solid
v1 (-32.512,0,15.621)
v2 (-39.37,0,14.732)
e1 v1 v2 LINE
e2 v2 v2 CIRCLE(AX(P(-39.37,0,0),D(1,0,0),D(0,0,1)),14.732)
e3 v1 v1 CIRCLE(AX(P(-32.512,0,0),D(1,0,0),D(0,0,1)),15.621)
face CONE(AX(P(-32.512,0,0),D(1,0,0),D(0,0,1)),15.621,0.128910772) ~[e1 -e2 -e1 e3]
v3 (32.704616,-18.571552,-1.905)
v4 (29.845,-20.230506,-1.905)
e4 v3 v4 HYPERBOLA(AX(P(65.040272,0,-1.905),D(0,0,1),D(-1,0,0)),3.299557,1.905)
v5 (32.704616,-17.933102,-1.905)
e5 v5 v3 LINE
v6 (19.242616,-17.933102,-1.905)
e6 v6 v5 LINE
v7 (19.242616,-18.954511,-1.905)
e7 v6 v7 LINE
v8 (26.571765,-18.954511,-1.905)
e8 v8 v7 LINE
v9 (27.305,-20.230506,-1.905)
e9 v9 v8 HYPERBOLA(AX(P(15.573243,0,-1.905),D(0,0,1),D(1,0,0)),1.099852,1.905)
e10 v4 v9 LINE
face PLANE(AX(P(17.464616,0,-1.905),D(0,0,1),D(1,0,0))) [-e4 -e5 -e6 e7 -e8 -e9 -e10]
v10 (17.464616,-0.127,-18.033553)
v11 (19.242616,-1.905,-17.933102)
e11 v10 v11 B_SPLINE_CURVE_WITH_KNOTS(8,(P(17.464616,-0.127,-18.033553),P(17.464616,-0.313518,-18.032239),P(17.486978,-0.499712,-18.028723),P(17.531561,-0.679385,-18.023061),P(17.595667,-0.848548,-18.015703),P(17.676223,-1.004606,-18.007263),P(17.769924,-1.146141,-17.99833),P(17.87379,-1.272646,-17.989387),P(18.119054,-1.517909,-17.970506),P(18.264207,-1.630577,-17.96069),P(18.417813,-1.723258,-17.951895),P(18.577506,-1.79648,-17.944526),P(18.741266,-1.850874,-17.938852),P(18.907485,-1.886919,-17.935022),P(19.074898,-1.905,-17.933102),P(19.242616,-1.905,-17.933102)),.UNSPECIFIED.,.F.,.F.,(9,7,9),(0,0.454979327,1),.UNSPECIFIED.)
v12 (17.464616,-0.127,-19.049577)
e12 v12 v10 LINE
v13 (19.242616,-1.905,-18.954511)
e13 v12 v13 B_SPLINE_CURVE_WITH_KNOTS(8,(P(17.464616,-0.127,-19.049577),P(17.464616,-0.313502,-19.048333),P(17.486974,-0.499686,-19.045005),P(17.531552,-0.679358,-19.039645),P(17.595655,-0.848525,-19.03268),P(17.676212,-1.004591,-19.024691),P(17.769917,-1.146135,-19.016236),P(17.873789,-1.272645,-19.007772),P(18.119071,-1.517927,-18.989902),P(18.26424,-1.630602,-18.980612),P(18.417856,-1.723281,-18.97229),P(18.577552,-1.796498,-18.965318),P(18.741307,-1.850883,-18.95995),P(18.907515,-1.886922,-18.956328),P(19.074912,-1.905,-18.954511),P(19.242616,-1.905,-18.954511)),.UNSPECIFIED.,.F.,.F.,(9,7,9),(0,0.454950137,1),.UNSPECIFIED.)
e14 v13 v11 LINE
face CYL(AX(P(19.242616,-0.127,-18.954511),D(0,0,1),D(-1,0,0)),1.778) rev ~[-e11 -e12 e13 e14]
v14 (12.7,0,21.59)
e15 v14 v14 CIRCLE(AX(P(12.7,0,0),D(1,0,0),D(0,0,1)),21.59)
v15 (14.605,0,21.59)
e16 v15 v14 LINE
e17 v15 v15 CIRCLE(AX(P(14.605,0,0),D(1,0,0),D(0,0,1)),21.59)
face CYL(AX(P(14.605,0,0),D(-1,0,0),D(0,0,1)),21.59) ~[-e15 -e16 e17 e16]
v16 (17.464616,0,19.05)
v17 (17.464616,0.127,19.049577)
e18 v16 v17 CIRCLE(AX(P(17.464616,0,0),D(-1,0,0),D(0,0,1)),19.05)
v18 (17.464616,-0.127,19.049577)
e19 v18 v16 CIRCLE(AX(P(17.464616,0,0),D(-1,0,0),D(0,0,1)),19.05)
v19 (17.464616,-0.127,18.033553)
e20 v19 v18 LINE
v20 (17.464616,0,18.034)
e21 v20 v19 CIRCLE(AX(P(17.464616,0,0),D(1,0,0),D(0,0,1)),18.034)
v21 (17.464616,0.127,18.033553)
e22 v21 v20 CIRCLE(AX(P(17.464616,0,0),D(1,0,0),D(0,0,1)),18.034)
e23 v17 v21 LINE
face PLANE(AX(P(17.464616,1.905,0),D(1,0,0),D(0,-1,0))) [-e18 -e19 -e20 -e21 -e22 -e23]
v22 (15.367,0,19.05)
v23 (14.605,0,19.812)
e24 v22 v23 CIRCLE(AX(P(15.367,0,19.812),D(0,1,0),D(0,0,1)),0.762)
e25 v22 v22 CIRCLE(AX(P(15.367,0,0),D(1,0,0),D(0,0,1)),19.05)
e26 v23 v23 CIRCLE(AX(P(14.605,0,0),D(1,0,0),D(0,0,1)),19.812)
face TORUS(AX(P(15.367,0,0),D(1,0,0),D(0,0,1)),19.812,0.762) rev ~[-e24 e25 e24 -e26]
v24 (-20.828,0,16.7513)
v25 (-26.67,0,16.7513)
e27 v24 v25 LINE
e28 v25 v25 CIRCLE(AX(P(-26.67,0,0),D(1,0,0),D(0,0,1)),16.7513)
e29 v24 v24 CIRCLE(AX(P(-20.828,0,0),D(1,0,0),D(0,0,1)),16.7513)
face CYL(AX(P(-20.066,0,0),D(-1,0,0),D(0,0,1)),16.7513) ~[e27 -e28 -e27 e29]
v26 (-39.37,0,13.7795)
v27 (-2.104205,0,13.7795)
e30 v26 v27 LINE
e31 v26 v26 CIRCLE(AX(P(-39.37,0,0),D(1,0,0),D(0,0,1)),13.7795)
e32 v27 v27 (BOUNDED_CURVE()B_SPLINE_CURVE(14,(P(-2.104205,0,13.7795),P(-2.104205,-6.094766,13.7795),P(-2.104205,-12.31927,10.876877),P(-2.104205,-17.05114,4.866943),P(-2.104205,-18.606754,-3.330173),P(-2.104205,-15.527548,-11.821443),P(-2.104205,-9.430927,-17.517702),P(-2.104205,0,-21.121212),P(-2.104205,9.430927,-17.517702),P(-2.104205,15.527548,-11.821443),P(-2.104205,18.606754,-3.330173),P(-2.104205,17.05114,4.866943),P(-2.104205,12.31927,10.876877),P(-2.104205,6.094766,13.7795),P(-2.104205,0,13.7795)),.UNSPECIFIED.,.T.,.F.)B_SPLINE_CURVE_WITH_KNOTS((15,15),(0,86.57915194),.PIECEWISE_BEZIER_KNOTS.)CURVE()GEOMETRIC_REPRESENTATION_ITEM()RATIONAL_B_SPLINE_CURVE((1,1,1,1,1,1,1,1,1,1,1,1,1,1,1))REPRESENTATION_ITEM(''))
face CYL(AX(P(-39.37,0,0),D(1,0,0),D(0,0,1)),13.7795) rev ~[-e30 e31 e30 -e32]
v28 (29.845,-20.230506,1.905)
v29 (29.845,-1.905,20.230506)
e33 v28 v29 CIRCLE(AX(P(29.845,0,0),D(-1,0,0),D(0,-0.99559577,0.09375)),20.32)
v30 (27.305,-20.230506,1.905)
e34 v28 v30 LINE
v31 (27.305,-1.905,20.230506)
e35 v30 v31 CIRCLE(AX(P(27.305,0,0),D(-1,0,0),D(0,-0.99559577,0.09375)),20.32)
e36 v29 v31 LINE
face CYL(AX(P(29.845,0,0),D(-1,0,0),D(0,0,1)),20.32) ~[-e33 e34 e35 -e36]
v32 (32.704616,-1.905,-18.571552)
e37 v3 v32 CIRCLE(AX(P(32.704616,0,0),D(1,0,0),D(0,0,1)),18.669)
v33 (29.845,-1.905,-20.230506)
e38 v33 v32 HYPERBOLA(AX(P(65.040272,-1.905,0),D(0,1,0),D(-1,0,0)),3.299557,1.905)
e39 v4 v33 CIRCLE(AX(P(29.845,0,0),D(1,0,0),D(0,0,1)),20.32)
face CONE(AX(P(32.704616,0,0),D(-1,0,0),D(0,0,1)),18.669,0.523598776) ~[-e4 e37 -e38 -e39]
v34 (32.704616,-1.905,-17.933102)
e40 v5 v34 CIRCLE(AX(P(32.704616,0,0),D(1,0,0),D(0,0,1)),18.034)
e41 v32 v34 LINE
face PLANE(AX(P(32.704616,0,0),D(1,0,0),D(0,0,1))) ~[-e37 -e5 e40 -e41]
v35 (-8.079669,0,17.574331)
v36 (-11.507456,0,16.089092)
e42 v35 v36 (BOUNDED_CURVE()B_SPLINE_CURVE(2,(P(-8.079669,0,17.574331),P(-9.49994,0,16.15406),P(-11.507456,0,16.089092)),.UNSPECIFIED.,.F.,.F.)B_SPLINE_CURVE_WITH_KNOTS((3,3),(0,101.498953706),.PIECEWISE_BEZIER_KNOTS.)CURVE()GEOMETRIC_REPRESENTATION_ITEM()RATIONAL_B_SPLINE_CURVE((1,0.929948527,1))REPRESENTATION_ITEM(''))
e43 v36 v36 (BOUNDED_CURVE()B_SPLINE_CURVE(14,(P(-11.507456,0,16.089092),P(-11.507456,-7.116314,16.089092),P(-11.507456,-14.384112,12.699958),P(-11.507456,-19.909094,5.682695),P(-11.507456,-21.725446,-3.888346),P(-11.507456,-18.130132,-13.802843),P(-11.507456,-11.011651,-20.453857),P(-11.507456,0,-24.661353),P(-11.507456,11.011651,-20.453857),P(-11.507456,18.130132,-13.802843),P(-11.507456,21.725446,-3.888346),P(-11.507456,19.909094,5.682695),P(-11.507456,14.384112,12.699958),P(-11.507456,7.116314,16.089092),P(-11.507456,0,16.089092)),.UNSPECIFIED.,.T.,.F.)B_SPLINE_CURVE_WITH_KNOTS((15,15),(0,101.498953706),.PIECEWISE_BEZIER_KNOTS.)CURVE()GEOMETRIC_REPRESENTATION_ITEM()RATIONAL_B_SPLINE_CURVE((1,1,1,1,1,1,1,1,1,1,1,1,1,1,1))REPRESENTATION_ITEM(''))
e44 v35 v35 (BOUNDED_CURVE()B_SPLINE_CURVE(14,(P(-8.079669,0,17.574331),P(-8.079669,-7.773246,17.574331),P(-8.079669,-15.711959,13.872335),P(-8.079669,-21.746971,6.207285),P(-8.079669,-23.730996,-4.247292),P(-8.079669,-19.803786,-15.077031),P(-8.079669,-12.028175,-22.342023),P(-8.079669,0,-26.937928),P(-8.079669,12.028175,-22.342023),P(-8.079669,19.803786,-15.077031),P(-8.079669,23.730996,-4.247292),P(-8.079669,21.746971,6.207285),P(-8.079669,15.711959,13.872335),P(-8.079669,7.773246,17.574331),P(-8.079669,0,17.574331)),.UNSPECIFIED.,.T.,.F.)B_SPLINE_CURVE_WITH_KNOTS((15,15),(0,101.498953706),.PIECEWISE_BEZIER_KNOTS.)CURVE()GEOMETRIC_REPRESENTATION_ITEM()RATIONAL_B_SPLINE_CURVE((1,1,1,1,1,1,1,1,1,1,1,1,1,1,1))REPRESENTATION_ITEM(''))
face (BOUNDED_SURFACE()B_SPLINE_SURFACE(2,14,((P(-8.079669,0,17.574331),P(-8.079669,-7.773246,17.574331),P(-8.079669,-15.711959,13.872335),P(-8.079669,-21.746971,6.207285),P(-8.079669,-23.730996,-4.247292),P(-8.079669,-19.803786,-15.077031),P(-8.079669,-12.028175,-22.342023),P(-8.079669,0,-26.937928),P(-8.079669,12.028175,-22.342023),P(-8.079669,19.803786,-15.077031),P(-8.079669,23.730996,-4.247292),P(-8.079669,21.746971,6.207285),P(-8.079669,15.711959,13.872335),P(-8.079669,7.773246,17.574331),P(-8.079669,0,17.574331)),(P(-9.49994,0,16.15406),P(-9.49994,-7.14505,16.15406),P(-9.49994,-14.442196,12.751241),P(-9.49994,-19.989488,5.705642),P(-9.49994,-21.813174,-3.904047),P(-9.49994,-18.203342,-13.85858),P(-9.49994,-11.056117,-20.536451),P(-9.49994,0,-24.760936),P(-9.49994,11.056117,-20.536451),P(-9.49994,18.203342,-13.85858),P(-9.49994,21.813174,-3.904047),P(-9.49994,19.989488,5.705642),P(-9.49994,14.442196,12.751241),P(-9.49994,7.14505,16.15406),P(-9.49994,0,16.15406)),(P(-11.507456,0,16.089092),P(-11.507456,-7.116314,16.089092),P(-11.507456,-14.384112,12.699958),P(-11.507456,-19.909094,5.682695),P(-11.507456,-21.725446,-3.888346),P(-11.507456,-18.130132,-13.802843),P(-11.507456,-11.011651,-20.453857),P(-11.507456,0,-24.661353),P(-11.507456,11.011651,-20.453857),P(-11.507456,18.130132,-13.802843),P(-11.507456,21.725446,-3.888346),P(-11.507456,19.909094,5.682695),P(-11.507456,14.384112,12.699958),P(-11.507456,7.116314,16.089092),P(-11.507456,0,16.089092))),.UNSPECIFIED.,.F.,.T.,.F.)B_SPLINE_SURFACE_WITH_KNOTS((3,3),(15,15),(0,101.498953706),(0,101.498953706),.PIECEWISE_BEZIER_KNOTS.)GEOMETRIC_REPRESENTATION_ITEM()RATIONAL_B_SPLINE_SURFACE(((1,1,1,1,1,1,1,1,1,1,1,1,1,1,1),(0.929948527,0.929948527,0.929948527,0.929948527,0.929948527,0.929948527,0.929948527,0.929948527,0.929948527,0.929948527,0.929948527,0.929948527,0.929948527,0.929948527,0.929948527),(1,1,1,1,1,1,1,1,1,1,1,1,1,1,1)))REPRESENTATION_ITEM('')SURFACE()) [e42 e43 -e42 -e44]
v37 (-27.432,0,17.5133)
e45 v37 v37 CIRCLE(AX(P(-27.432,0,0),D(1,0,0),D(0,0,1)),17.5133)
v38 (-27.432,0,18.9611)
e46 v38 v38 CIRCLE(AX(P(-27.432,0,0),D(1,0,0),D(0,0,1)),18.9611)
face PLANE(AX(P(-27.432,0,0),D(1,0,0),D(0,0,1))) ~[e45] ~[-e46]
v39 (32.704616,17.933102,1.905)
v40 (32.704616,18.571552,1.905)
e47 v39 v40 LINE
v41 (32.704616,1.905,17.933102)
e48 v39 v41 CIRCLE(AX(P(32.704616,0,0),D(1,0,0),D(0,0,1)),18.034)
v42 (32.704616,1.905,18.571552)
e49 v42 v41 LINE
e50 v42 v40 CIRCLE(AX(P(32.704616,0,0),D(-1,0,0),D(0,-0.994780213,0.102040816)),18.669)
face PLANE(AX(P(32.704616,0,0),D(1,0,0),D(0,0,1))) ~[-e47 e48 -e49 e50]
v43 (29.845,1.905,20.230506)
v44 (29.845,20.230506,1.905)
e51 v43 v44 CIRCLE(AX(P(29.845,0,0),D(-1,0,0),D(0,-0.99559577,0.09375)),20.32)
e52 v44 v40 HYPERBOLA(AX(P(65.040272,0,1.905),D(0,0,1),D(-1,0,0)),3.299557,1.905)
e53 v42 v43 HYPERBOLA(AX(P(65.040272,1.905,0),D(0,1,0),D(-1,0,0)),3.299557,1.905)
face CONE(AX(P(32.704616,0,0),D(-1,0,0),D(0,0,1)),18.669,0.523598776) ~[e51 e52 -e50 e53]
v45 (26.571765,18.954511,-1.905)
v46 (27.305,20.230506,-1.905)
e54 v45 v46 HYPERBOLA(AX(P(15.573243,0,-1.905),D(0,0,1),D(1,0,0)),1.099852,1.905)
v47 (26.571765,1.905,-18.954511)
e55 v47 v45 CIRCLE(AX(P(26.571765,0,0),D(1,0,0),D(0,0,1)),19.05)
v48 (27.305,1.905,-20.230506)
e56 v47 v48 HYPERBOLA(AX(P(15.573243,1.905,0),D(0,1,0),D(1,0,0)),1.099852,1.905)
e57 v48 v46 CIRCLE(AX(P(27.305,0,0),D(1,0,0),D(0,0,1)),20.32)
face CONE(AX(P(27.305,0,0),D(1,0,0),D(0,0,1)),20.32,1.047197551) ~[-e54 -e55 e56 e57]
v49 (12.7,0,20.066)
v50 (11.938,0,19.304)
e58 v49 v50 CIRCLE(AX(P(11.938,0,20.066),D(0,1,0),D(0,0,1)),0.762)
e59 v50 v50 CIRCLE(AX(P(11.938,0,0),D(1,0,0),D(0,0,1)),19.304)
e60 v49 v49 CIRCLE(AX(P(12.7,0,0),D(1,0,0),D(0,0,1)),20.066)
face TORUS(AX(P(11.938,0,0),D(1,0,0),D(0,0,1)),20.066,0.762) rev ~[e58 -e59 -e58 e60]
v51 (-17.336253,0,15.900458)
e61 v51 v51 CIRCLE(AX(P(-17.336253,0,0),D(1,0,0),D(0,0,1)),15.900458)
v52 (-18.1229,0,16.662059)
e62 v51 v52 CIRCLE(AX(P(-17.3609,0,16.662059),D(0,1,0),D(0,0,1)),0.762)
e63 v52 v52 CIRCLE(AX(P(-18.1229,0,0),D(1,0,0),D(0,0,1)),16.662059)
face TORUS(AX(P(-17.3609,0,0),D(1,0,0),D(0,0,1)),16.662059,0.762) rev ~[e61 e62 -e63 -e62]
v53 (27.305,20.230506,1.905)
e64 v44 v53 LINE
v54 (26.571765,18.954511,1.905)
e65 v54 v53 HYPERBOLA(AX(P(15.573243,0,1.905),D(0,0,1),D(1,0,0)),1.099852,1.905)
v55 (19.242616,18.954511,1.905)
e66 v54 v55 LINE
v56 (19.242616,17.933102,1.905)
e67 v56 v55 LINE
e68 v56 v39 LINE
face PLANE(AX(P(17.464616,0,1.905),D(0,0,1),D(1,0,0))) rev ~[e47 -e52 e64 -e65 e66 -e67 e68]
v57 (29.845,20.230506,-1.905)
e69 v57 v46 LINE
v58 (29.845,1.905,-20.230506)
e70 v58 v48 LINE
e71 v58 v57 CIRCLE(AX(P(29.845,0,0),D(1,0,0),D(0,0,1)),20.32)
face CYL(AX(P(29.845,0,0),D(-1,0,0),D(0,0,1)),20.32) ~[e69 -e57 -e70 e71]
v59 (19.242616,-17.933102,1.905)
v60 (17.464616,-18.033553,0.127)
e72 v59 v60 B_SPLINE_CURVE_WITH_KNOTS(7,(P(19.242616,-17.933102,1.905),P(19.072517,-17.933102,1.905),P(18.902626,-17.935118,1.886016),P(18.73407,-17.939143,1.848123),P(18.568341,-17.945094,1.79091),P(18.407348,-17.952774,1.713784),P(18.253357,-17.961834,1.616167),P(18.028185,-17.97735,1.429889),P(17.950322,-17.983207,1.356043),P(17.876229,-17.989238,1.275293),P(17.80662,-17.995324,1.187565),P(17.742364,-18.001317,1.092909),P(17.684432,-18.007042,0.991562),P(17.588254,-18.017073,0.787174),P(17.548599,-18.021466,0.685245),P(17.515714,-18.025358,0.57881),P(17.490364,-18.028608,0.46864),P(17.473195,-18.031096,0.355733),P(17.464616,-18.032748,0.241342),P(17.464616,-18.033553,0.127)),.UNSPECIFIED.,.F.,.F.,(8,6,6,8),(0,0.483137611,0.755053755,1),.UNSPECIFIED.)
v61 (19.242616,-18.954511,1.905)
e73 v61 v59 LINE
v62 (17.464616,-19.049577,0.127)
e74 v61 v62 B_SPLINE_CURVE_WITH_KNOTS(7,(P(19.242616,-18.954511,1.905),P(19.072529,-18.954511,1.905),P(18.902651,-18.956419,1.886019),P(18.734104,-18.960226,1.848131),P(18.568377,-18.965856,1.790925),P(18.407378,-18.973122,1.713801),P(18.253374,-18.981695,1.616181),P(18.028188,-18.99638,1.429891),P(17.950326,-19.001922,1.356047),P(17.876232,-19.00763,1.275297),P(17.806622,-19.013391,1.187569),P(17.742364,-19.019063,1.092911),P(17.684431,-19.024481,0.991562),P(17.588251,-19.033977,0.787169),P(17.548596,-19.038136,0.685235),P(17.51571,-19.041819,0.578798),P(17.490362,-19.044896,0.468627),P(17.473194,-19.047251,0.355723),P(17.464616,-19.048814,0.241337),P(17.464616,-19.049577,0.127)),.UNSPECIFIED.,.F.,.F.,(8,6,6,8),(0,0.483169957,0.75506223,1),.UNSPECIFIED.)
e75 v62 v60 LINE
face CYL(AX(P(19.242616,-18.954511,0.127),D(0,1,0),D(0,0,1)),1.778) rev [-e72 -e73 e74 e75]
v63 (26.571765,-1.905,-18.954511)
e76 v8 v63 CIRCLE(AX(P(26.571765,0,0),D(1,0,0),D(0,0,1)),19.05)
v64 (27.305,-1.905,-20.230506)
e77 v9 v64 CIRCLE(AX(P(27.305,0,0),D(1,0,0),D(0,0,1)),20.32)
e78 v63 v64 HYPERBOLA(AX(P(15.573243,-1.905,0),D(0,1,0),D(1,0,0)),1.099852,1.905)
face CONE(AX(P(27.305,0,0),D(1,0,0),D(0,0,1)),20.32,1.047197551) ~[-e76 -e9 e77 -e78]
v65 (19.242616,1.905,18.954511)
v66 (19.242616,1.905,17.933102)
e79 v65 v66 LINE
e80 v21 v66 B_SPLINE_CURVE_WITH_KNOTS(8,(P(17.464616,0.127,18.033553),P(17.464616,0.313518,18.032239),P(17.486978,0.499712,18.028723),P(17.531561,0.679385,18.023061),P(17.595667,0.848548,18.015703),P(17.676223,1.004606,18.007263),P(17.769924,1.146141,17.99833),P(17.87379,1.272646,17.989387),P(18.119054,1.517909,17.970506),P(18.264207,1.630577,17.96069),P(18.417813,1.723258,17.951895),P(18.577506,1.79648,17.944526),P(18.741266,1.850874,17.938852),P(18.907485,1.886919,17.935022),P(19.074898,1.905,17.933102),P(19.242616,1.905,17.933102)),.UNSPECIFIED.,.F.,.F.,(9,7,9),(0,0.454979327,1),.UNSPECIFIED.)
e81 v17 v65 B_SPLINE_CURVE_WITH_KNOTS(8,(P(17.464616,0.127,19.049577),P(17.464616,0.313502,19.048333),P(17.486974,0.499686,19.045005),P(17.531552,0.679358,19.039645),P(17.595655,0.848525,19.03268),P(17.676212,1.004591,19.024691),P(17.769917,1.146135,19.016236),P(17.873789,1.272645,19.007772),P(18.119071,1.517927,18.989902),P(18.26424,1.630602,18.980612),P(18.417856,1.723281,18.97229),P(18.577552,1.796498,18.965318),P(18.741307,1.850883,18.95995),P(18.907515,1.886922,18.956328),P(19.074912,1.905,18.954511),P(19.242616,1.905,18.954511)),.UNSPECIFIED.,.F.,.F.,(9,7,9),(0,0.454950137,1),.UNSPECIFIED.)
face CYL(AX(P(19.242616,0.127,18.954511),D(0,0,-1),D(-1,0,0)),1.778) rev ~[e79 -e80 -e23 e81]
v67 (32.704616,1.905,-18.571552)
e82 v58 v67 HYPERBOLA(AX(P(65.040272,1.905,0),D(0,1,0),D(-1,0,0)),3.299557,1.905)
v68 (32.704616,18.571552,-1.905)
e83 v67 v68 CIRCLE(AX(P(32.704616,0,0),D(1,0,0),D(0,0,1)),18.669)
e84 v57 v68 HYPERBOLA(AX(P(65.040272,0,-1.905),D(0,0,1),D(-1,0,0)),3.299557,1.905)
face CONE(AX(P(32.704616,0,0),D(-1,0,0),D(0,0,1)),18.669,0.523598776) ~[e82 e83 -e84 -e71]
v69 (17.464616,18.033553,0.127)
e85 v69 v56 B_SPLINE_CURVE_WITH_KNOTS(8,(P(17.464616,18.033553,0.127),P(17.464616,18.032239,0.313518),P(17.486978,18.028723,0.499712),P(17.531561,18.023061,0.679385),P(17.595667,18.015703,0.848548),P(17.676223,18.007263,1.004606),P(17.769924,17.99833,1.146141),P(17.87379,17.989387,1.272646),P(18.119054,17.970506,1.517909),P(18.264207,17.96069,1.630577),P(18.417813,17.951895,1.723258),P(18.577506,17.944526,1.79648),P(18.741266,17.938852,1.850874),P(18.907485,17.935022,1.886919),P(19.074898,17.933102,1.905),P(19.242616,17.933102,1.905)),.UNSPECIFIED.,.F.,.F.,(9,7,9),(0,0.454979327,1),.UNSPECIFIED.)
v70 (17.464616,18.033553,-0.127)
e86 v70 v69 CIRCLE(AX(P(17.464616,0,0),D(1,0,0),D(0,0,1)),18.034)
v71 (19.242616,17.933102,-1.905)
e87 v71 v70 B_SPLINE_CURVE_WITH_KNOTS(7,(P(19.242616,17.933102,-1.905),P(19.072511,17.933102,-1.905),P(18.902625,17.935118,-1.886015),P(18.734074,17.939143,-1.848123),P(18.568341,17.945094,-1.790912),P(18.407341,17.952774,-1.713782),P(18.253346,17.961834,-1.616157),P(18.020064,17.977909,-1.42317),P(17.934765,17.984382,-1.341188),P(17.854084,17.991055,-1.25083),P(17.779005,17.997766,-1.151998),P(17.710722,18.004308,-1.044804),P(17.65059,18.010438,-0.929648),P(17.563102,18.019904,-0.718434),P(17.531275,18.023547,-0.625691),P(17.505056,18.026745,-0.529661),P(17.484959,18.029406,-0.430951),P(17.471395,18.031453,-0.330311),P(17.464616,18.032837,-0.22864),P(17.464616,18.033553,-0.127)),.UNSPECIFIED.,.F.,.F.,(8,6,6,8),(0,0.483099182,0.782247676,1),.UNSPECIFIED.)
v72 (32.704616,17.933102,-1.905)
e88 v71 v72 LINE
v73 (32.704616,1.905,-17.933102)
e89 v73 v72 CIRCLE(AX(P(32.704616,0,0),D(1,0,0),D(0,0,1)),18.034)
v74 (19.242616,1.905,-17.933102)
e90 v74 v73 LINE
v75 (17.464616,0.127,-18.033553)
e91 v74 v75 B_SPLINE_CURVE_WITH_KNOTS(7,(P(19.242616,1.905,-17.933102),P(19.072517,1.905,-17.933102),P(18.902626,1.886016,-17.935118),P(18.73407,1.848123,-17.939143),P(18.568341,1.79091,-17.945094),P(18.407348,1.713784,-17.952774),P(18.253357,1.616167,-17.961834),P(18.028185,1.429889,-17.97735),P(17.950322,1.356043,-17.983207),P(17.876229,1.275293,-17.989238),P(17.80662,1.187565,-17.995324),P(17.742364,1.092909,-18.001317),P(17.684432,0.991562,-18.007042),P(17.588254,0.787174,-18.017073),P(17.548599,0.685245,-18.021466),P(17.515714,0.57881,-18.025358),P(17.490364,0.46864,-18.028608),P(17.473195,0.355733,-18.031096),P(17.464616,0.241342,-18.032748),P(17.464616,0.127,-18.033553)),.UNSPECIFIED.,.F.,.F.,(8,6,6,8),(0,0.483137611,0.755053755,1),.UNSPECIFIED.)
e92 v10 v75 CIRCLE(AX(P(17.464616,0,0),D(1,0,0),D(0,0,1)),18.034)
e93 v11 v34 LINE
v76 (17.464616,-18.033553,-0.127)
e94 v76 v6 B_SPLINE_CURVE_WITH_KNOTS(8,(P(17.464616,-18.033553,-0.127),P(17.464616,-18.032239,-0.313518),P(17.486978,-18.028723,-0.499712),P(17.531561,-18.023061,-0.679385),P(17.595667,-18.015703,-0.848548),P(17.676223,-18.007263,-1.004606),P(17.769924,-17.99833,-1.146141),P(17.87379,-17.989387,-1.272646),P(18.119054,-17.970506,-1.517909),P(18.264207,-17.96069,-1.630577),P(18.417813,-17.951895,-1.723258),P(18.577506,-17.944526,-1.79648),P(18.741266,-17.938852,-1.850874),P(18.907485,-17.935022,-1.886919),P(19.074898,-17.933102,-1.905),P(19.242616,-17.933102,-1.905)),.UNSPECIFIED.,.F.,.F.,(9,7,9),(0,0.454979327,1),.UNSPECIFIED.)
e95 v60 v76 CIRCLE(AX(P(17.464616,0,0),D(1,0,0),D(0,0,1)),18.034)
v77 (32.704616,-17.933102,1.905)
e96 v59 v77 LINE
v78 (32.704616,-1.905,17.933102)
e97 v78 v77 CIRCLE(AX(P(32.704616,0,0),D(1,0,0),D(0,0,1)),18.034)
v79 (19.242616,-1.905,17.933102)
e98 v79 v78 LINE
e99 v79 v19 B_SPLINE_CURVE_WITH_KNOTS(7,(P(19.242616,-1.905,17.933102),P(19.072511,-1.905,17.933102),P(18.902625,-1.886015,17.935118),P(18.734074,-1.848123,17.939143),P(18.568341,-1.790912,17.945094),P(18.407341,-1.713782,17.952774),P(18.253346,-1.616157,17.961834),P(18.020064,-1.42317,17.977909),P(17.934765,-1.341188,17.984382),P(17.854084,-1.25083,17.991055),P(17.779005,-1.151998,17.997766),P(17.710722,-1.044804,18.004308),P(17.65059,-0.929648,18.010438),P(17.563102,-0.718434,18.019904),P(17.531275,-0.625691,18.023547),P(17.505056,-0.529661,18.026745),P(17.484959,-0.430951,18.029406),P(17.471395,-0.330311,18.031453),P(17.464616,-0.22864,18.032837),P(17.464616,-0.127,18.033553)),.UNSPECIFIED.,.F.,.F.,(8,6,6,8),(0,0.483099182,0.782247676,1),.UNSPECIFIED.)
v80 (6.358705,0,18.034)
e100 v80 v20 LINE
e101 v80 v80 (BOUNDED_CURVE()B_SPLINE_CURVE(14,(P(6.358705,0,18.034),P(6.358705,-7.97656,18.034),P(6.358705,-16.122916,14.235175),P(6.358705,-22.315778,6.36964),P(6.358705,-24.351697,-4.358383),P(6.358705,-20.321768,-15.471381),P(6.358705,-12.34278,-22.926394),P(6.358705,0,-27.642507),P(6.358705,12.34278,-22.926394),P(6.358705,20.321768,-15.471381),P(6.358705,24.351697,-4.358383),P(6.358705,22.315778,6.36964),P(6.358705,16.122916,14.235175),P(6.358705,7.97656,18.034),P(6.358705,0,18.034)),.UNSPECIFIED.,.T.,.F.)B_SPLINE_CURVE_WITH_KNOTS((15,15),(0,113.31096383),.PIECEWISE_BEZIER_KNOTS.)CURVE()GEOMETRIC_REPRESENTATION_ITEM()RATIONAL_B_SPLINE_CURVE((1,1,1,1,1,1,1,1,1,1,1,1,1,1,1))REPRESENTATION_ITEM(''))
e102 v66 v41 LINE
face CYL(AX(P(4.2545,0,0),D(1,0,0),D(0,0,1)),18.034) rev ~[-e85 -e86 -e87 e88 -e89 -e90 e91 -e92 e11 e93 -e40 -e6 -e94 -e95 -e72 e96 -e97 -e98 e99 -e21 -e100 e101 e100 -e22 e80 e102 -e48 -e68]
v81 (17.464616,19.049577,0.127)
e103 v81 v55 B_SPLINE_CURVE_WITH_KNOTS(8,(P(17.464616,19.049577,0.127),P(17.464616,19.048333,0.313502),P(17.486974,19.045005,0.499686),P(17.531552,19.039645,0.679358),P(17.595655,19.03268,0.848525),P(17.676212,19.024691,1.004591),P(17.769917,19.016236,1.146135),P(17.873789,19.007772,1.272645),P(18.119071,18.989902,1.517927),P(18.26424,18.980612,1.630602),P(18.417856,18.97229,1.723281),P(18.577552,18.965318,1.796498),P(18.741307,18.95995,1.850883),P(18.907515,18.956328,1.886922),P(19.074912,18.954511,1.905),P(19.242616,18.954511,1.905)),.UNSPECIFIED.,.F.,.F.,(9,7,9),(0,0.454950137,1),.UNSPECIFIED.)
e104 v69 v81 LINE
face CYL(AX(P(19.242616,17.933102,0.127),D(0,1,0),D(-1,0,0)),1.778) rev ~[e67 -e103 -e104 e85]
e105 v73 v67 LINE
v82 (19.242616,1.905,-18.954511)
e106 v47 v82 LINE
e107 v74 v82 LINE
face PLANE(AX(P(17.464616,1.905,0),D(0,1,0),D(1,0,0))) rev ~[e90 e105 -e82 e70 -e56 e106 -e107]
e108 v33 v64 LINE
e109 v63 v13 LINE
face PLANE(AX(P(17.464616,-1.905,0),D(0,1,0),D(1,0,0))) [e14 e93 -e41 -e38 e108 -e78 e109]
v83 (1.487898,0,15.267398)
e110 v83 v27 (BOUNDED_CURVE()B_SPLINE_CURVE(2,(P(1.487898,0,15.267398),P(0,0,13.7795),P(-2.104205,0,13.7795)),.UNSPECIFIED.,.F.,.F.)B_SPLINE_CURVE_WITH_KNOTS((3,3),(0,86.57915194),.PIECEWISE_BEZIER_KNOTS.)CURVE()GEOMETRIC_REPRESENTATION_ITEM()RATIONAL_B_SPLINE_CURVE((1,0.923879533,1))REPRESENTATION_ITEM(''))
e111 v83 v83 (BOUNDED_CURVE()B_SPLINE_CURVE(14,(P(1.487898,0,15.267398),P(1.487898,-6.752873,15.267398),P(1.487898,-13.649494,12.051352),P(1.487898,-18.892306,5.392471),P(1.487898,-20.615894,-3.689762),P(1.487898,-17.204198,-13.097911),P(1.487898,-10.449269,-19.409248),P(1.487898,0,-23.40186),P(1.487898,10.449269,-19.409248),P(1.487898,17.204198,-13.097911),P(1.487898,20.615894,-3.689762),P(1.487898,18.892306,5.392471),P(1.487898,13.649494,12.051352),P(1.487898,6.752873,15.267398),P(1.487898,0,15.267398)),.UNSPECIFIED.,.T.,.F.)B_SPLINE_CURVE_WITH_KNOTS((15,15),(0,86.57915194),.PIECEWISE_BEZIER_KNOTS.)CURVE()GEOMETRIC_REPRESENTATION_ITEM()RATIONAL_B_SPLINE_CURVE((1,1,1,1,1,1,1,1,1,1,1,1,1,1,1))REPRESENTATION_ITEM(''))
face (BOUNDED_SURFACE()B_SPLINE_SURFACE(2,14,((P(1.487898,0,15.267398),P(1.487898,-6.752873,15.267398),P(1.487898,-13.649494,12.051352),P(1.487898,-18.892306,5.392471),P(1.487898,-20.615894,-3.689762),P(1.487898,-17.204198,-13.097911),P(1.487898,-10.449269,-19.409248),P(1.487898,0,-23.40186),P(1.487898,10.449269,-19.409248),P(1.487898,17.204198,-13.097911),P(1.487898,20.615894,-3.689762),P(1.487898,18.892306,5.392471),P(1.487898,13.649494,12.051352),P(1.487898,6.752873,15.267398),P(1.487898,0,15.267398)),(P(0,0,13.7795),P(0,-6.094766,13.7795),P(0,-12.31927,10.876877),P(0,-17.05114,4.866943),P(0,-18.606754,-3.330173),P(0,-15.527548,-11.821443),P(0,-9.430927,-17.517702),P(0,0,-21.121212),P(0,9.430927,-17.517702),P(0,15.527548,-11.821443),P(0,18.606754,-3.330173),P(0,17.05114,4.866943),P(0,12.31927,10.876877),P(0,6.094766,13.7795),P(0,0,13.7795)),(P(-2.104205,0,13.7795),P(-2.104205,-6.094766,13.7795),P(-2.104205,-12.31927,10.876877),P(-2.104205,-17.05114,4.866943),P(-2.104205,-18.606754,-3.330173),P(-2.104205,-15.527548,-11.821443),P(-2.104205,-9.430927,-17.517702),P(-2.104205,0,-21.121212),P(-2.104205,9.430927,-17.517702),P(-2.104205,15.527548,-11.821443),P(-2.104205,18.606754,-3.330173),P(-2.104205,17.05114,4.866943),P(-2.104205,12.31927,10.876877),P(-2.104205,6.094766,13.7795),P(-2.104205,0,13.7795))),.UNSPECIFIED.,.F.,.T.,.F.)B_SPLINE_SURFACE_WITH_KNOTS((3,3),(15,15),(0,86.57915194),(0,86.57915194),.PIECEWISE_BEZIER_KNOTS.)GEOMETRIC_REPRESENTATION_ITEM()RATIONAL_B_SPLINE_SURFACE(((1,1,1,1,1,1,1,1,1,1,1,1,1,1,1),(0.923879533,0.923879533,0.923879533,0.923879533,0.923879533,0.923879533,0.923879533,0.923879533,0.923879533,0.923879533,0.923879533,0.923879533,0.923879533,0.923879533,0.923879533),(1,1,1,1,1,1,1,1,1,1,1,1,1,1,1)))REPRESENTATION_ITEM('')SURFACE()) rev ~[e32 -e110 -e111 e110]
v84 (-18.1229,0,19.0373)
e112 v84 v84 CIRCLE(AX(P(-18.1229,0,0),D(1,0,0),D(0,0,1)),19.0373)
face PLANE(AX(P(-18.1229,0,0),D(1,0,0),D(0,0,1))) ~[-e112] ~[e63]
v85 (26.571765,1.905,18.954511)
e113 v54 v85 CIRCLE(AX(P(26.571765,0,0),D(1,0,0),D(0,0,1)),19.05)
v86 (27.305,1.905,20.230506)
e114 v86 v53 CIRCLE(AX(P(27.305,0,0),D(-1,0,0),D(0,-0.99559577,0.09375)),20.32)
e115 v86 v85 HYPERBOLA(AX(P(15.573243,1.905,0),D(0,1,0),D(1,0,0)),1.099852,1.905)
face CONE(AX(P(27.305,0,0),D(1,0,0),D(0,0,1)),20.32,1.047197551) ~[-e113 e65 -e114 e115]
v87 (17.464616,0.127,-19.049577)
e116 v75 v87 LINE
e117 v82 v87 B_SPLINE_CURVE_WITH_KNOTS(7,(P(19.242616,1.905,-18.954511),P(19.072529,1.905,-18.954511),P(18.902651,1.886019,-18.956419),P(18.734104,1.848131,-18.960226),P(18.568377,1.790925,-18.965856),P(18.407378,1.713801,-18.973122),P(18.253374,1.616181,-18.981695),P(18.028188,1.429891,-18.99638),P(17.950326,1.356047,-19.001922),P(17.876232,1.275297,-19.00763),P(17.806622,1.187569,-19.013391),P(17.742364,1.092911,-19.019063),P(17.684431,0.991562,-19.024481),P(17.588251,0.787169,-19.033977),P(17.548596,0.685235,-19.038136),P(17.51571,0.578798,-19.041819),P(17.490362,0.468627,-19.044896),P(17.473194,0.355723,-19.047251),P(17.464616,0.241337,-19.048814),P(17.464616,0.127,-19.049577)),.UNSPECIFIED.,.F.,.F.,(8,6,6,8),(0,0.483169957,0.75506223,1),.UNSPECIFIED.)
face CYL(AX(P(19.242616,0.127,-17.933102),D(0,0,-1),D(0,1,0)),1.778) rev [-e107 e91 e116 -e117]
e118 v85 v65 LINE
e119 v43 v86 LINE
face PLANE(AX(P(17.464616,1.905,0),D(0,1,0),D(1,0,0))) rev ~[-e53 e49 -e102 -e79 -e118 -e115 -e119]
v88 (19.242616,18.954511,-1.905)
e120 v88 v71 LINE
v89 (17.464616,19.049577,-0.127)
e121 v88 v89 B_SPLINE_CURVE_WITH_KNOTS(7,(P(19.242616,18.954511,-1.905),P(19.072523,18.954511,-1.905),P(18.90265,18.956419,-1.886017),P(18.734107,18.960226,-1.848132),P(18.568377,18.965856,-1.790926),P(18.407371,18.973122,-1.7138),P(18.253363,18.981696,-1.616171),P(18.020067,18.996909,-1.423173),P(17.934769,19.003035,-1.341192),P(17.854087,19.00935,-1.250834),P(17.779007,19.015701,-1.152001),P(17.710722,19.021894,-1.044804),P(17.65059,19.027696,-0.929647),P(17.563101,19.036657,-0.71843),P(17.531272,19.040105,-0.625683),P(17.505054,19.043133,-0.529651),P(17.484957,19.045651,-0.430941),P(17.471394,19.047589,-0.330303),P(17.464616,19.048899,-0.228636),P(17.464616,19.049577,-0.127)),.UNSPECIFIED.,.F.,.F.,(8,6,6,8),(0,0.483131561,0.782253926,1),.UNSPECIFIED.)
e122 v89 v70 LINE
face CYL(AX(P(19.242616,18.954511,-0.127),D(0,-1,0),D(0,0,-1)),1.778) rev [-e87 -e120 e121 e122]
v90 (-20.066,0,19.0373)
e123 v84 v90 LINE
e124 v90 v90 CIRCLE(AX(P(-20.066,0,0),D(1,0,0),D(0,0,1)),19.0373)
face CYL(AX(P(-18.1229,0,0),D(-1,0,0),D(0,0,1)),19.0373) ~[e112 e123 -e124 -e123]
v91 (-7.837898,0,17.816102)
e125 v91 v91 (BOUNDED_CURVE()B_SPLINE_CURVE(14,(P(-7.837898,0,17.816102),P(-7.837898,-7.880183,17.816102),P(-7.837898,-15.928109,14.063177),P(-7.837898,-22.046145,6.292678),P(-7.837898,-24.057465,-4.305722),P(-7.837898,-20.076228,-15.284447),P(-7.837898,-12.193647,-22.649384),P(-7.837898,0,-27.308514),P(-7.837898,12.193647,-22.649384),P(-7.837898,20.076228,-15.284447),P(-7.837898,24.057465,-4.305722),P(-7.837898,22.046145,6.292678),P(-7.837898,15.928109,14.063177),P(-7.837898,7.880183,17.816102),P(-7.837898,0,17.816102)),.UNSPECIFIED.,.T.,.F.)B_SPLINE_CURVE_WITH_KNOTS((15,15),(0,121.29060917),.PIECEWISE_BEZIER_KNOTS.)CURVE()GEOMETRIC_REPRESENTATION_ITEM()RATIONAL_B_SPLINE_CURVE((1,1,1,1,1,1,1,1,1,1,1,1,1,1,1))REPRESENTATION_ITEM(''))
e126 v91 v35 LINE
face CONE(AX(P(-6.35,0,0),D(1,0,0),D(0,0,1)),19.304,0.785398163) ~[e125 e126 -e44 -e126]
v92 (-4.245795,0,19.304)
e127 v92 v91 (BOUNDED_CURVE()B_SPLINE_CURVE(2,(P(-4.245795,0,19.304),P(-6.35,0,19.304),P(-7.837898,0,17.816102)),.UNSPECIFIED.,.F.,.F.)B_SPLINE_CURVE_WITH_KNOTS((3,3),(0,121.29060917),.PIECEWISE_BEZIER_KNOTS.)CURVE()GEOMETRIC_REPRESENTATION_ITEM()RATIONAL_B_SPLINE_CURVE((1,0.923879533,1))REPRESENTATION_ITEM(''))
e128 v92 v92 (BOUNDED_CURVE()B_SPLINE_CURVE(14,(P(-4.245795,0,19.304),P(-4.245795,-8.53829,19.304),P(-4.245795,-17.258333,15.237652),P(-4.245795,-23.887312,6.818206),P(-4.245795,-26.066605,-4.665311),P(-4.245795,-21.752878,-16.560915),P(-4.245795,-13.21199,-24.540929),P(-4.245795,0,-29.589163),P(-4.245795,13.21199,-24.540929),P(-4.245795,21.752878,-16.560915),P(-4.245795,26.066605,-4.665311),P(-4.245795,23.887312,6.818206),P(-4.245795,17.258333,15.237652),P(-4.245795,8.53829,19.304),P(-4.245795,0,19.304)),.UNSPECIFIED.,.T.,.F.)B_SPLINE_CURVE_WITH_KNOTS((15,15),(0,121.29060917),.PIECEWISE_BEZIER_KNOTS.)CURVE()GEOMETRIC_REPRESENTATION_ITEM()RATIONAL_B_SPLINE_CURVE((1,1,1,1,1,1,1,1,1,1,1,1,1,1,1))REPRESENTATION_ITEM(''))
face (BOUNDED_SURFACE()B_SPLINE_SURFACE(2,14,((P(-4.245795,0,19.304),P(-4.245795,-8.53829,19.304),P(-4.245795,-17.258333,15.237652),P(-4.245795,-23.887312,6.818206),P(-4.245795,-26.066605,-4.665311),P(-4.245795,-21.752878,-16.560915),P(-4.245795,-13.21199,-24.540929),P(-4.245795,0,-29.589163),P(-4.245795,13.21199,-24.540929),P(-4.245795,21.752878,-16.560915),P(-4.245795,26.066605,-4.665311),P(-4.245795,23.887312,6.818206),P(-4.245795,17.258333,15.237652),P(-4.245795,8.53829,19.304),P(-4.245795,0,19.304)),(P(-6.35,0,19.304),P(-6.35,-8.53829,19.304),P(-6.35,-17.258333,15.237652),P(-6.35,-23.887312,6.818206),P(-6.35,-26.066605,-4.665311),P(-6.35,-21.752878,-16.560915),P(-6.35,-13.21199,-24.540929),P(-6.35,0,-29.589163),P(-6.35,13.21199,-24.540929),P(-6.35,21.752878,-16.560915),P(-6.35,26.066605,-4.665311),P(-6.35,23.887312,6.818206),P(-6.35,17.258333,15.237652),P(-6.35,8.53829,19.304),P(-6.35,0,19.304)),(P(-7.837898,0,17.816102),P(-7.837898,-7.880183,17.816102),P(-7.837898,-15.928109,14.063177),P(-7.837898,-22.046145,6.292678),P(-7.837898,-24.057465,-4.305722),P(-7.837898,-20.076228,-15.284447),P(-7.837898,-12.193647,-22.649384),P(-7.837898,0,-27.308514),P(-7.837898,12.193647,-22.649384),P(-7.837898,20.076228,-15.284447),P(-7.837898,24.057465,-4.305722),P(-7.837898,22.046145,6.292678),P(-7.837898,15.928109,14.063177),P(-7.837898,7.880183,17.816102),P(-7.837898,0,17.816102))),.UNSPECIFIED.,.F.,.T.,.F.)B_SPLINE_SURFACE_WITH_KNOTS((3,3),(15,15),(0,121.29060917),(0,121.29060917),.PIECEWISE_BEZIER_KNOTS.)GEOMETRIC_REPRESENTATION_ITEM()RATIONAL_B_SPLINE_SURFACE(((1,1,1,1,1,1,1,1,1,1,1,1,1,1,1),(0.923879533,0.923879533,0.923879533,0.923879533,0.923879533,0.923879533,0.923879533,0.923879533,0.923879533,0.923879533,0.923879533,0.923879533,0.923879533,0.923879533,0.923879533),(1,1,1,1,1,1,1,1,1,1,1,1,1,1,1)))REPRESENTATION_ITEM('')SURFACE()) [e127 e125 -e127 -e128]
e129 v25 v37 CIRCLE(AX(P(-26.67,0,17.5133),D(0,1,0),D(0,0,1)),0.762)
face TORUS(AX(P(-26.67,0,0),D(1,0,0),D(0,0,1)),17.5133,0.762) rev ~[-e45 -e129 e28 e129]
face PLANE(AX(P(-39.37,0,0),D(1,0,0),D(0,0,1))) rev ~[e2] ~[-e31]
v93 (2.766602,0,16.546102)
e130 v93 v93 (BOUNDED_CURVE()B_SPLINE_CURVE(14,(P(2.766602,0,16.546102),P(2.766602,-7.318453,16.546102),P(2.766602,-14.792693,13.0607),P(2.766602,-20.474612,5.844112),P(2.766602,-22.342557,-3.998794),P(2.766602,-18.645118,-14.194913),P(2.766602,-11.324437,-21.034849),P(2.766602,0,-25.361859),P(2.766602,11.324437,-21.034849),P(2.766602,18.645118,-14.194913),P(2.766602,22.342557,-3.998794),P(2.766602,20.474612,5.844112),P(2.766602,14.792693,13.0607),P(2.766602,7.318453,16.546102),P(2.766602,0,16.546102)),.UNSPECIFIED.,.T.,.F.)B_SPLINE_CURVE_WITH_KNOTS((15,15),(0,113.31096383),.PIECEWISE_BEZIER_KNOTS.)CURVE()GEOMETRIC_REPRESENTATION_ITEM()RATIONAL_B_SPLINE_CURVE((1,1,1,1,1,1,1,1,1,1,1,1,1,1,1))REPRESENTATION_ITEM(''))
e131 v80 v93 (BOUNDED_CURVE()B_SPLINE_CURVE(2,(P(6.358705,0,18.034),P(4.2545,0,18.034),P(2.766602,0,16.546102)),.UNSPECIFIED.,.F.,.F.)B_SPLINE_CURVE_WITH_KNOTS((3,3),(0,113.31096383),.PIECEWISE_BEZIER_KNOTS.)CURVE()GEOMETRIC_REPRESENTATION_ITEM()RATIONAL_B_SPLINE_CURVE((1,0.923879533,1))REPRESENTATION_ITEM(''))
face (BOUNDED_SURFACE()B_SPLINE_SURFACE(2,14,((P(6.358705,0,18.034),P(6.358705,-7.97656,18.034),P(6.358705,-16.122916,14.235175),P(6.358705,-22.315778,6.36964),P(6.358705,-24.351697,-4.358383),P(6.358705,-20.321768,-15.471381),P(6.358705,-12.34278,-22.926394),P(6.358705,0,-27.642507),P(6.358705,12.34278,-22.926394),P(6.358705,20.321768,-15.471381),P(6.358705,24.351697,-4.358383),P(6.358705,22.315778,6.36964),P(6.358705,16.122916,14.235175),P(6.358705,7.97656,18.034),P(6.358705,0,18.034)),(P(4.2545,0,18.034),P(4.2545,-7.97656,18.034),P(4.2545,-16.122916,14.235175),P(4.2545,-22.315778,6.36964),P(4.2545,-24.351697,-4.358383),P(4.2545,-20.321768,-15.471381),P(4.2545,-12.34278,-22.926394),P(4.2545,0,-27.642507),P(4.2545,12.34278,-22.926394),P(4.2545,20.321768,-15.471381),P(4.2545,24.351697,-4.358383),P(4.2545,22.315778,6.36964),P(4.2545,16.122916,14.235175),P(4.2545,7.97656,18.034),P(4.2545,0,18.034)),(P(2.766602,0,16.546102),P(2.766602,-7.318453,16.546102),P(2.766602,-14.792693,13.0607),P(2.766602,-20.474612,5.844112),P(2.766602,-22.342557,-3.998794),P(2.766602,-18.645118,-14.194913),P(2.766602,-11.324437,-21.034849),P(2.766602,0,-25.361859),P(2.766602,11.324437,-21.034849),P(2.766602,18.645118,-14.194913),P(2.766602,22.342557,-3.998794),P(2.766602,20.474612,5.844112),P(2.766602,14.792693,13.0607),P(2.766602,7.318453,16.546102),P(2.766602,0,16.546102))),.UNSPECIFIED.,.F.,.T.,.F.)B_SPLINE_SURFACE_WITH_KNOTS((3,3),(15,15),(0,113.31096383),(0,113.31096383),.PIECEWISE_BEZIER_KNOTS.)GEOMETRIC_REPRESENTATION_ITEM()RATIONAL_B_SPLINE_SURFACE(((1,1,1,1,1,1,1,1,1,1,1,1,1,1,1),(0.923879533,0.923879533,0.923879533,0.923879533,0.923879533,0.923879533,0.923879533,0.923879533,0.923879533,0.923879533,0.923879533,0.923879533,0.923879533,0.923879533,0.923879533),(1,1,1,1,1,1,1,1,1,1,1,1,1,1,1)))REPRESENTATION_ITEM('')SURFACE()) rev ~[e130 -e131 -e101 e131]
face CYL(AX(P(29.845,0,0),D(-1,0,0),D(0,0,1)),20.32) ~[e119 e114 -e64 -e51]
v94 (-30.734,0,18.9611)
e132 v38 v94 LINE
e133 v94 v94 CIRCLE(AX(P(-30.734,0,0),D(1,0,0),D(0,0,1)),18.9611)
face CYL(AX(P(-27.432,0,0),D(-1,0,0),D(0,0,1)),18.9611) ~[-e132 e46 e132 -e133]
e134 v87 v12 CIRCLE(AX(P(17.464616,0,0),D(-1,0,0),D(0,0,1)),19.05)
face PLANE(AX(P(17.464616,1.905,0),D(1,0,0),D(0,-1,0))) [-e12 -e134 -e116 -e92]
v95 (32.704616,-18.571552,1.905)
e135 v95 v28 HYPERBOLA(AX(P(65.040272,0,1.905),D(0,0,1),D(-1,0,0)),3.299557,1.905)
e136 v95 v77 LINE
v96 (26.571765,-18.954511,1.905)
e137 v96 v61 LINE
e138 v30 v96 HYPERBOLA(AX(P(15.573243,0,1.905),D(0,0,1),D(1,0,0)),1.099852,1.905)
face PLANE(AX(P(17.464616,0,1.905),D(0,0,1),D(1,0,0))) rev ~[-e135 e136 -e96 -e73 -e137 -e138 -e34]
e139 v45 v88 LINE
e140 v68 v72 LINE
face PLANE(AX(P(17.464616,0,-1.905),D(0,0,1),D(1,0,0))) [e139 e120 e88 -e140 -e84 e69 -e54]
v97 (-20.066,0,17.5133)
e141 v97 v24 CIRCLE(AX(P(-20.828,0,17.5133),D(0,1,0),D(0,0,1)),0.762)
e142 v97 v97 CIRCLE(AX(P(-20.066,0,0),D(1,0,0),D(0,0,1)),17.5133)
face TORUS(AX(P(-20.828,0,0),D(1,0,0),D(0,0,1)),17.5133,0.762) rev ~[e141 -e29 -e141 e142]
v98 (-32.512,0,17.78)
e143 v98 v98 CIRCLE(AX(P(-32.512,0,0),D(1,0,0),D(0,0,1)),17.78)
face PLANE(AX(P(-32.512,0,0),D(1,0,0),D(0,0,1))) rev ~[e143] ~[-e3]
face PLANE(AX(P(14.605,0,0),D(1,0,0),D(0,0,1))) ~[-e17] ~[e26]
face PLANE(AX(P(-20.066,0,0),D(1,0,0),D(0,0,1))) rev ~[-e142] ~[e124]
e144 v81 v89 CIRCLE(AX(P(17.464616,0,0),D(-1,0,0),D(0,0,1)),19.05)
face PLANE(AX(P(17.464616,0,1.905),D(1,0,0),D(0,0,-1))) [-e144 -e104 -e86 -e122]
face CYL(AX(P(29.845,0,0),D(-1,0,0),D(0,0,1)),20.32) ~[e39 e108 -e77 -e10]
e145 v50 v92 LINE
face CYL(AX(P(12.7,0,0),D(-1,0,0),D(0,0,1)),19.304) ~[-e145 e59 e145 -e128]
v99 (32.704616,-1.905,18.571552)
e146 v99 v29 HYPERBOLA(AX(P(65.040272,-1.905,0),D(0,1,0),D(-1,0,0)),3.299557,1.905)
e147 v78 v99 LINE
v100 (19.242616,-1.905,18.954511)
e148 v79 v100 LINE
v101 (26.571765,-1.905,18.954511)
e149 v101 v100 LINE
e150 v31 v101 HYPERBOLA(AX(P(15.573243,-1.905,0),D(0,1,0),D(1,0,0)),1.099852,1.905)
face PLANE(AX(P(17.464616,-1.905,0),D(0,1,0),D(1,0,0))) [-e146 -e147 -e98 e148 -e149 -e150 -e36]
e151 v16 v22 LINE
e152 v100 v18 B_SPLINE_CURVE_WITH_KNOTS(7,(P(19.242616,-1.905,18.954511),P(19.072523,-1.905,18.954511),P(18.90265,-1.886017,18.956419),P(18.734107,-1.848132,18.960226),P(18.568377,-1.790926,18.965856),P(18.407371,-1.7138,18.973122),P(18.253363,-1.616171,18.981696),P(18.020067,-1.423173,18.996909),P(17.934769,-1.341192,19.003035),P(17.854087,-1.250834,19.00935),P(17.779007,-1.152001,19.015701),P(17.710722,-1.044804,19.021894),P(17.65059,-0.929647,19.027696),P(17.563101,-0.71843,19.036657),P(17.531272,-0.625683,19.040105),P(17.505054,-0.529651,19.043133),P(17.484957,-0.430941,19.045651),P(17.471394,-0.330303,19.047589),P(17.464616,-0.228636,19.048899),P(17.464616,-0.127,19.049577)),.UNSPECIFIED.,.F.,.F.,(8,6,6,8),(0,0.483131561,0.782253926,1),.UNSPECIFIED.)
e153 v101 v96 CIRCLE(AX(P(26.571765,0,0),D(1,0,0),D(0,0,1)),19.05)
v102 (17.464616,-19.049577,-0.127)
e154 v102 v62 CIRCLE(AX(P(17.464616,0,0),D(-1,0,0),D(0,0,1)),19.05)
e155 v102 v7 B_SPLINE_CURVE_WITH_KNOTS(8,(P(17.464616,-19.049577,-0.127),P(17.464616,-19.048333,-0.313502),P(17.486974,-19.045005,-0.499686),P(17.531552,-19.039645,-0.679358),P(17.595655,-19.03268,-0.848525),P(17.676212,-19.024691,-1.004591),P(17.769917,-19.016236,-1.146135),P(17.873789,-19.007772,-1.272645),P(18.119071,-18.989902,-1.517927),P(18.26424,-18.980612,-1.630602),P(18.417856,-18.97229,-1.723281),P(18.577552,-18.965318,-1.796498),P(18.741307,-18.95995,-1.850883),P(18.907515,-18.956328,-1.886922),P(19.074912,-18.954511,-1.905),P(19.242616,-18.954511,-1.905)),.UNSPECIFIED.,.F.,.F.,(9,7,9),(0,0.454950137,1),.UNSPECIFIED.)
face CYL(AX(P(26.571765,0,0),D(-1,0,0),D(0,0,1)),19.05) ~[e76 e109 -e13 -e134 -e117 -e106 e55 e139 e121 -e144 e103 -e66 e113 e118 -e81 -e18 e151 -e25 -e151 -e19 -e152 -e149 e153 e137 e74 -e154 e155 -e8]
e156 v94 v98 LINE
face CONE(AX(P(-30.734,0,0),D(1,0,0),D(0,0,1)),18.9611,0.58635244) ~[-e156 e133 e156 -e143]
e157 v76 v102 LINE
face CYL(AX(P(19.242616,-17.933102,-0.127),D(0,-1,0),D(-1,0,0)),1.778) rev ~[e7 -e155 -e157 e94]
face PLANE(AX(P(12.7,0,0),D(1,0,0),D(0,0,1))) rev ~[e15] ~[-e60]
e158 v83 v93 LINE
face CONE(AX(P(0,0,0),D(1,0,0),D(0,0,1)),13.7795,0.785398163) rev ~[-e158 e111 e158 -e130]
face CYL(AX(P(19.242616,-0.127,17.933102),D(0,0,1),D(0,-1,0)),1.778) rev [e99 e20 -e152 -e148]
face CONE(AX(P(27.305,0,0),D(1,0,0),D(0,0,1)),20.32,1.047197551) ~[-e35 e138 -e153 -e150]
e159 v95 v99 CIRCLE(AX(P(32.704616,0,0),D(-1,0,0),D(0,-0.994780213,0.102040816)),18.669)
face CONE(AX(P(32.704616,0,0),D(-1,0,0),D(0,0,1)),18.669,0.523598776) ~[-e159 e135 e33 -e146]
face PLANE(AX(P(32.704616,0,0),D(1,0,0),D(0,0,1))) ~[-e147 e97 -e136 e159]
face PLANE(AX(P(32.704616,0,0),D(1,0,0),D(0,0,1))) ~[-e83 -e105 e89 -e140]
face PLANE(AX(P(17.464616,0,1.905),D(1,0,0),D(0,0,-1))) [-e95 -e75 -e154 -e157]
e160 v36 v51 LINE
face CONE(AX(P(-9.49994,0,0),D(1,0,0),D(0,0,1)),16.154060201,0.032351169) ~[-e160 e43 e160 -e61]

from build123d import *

# Parameters (mm, degrees)
FILLET1_R                = 0.762
SKETCH2_W                = 15.24
SKETCH2_H                = 3.81
CUT_EXTRUDE1_DEPTH       = 50.822214925
FILLET4_R                = 1.778
CIRPATTERN1_COUNT        = 2
CIRPATTERN1_ANGLE        = 90
FILLET4_OF_CIRPATTERN1_R = 1.778
FILLET6_R                = 5.08


with BuildPart() as part:
    # Sketch1 → Revolve1 (revolve)
    with BuildSketch(Plane.XY, mode=Mode.PRIVATE) as revolve1_sk:
        Polygon((-39.37, 13.7795), (0, 13.7795), (4.2545, 18.034), (32.704615883, 18.034), (32.704615883, 18.669), (29.845, 20.32), (27.305, 20.32), (26.571765158, 19.05), (14.605, 19.05), (14.605, 21.59), (12.7, 21.59), (12.7, 19.304), (-6.35, 19.304), (-9.499939799, 16.154060201), (-18.1229, 15.875), (-18.1229, 19.0373), (-20.066, 19.0373), (-20.066, 16.7513), (-27.432, 16.7513), (-27.432, 18.9611), (-30.734, 18.9611), (-32.512, 17.78), (-32.512, 15.621), (-39.37, 14.732), align=None)
    revolve(revolve1_sk.sketch.rotate(Axis((-11.776127049, 0, 0), (1, 0, 0)), 90), axis=Axis((-11.776127049, 0, 0), (1, 0, 0)))

    # Fillet1
    fillet1_edges = [part.edges().sort_by_distance(p)[0] for p in [
        (-27.432, 0, -16.7513),
        (-20.066, 0, -16.7513),
        (-18.1229, 0, -15.875),
        (12.7, 0, -19.304),
        (14.605, 0, -19.05),
    ]]
    fillet(fillet1_edges, radius=FILLET1_R)

    # Sketch2 → Cut-Extrude1 (cut, symmetric)
    with BuildSketch(Plane(origin=(0, 0, 0), x_dir=(1, 0, 0), z_dir=(0, 1, 0))):
        with Locations((25.084615883, 0)):
            Rectangle(SKETCH2_W, SKETCH2_H)
    cut_extrude1 = extrude(amount=CUT_EXTRUDE1_DEPTH, both=True, mode=Mode.SUBTRACT)

    # Fillet4
    fillet4_edges = [part.edges().sort_by_distance(p)[0] for p in [
        (17.464615883, -18.443806111, 1.905),
        (17.464615883, 18.443806111, 1.905),
        (17.464615883, -18.443806111, -1.905),
        (17.464615883, 18.443806111, -1.905),
    ]]
    fillet(fillet4_edges, radius=FILLET4_R)

    # CirPattern1: Cut-Extrude1 ×2 about axis
    cirpattern1_axis = Axis((14.605, 0, 0), (-1, 0, 0))
    for i in range(1, CIRPATTERN1_COUNT):
        add(cut_extrude1.rotate(cirpattern1_axis, i * CIRPATTERN1_ANGLE / (CIRPATTERN1_COUNT - 1)), mode=Mode.SUBTRACT)

    # Fillet4 of CirPattern1
    fillet4_of_cirpattern1_edges = [part.edges().sort_by_distance(p)[0] for p in [
        (17.464615883, 1.905, 18.443806111),
        (17.464615883, 1.905, -18.443806111),
        (17.464615883, -1.905, 18.443806111),
        (17.464615883, -1.905, -18.443806111),
    ]]
    fillet(fillet4_of_cirpattern1_edges, radius=FILLET4_OF_CIRPATTERN1_R)

    # Fillet6
    fillet6_edges = [part.edges().sort_by_distance(p)[0] for p in [
        (-9.499939799, 0, -16.154060201),
        (-6.35, 0, -19.304),
        (4.2545, 0, -18.034),
        (0, 0, -13.7795),
    ]]
    fillet(fillet6_edges, radius=FILLET6_R)


solid = part.part
